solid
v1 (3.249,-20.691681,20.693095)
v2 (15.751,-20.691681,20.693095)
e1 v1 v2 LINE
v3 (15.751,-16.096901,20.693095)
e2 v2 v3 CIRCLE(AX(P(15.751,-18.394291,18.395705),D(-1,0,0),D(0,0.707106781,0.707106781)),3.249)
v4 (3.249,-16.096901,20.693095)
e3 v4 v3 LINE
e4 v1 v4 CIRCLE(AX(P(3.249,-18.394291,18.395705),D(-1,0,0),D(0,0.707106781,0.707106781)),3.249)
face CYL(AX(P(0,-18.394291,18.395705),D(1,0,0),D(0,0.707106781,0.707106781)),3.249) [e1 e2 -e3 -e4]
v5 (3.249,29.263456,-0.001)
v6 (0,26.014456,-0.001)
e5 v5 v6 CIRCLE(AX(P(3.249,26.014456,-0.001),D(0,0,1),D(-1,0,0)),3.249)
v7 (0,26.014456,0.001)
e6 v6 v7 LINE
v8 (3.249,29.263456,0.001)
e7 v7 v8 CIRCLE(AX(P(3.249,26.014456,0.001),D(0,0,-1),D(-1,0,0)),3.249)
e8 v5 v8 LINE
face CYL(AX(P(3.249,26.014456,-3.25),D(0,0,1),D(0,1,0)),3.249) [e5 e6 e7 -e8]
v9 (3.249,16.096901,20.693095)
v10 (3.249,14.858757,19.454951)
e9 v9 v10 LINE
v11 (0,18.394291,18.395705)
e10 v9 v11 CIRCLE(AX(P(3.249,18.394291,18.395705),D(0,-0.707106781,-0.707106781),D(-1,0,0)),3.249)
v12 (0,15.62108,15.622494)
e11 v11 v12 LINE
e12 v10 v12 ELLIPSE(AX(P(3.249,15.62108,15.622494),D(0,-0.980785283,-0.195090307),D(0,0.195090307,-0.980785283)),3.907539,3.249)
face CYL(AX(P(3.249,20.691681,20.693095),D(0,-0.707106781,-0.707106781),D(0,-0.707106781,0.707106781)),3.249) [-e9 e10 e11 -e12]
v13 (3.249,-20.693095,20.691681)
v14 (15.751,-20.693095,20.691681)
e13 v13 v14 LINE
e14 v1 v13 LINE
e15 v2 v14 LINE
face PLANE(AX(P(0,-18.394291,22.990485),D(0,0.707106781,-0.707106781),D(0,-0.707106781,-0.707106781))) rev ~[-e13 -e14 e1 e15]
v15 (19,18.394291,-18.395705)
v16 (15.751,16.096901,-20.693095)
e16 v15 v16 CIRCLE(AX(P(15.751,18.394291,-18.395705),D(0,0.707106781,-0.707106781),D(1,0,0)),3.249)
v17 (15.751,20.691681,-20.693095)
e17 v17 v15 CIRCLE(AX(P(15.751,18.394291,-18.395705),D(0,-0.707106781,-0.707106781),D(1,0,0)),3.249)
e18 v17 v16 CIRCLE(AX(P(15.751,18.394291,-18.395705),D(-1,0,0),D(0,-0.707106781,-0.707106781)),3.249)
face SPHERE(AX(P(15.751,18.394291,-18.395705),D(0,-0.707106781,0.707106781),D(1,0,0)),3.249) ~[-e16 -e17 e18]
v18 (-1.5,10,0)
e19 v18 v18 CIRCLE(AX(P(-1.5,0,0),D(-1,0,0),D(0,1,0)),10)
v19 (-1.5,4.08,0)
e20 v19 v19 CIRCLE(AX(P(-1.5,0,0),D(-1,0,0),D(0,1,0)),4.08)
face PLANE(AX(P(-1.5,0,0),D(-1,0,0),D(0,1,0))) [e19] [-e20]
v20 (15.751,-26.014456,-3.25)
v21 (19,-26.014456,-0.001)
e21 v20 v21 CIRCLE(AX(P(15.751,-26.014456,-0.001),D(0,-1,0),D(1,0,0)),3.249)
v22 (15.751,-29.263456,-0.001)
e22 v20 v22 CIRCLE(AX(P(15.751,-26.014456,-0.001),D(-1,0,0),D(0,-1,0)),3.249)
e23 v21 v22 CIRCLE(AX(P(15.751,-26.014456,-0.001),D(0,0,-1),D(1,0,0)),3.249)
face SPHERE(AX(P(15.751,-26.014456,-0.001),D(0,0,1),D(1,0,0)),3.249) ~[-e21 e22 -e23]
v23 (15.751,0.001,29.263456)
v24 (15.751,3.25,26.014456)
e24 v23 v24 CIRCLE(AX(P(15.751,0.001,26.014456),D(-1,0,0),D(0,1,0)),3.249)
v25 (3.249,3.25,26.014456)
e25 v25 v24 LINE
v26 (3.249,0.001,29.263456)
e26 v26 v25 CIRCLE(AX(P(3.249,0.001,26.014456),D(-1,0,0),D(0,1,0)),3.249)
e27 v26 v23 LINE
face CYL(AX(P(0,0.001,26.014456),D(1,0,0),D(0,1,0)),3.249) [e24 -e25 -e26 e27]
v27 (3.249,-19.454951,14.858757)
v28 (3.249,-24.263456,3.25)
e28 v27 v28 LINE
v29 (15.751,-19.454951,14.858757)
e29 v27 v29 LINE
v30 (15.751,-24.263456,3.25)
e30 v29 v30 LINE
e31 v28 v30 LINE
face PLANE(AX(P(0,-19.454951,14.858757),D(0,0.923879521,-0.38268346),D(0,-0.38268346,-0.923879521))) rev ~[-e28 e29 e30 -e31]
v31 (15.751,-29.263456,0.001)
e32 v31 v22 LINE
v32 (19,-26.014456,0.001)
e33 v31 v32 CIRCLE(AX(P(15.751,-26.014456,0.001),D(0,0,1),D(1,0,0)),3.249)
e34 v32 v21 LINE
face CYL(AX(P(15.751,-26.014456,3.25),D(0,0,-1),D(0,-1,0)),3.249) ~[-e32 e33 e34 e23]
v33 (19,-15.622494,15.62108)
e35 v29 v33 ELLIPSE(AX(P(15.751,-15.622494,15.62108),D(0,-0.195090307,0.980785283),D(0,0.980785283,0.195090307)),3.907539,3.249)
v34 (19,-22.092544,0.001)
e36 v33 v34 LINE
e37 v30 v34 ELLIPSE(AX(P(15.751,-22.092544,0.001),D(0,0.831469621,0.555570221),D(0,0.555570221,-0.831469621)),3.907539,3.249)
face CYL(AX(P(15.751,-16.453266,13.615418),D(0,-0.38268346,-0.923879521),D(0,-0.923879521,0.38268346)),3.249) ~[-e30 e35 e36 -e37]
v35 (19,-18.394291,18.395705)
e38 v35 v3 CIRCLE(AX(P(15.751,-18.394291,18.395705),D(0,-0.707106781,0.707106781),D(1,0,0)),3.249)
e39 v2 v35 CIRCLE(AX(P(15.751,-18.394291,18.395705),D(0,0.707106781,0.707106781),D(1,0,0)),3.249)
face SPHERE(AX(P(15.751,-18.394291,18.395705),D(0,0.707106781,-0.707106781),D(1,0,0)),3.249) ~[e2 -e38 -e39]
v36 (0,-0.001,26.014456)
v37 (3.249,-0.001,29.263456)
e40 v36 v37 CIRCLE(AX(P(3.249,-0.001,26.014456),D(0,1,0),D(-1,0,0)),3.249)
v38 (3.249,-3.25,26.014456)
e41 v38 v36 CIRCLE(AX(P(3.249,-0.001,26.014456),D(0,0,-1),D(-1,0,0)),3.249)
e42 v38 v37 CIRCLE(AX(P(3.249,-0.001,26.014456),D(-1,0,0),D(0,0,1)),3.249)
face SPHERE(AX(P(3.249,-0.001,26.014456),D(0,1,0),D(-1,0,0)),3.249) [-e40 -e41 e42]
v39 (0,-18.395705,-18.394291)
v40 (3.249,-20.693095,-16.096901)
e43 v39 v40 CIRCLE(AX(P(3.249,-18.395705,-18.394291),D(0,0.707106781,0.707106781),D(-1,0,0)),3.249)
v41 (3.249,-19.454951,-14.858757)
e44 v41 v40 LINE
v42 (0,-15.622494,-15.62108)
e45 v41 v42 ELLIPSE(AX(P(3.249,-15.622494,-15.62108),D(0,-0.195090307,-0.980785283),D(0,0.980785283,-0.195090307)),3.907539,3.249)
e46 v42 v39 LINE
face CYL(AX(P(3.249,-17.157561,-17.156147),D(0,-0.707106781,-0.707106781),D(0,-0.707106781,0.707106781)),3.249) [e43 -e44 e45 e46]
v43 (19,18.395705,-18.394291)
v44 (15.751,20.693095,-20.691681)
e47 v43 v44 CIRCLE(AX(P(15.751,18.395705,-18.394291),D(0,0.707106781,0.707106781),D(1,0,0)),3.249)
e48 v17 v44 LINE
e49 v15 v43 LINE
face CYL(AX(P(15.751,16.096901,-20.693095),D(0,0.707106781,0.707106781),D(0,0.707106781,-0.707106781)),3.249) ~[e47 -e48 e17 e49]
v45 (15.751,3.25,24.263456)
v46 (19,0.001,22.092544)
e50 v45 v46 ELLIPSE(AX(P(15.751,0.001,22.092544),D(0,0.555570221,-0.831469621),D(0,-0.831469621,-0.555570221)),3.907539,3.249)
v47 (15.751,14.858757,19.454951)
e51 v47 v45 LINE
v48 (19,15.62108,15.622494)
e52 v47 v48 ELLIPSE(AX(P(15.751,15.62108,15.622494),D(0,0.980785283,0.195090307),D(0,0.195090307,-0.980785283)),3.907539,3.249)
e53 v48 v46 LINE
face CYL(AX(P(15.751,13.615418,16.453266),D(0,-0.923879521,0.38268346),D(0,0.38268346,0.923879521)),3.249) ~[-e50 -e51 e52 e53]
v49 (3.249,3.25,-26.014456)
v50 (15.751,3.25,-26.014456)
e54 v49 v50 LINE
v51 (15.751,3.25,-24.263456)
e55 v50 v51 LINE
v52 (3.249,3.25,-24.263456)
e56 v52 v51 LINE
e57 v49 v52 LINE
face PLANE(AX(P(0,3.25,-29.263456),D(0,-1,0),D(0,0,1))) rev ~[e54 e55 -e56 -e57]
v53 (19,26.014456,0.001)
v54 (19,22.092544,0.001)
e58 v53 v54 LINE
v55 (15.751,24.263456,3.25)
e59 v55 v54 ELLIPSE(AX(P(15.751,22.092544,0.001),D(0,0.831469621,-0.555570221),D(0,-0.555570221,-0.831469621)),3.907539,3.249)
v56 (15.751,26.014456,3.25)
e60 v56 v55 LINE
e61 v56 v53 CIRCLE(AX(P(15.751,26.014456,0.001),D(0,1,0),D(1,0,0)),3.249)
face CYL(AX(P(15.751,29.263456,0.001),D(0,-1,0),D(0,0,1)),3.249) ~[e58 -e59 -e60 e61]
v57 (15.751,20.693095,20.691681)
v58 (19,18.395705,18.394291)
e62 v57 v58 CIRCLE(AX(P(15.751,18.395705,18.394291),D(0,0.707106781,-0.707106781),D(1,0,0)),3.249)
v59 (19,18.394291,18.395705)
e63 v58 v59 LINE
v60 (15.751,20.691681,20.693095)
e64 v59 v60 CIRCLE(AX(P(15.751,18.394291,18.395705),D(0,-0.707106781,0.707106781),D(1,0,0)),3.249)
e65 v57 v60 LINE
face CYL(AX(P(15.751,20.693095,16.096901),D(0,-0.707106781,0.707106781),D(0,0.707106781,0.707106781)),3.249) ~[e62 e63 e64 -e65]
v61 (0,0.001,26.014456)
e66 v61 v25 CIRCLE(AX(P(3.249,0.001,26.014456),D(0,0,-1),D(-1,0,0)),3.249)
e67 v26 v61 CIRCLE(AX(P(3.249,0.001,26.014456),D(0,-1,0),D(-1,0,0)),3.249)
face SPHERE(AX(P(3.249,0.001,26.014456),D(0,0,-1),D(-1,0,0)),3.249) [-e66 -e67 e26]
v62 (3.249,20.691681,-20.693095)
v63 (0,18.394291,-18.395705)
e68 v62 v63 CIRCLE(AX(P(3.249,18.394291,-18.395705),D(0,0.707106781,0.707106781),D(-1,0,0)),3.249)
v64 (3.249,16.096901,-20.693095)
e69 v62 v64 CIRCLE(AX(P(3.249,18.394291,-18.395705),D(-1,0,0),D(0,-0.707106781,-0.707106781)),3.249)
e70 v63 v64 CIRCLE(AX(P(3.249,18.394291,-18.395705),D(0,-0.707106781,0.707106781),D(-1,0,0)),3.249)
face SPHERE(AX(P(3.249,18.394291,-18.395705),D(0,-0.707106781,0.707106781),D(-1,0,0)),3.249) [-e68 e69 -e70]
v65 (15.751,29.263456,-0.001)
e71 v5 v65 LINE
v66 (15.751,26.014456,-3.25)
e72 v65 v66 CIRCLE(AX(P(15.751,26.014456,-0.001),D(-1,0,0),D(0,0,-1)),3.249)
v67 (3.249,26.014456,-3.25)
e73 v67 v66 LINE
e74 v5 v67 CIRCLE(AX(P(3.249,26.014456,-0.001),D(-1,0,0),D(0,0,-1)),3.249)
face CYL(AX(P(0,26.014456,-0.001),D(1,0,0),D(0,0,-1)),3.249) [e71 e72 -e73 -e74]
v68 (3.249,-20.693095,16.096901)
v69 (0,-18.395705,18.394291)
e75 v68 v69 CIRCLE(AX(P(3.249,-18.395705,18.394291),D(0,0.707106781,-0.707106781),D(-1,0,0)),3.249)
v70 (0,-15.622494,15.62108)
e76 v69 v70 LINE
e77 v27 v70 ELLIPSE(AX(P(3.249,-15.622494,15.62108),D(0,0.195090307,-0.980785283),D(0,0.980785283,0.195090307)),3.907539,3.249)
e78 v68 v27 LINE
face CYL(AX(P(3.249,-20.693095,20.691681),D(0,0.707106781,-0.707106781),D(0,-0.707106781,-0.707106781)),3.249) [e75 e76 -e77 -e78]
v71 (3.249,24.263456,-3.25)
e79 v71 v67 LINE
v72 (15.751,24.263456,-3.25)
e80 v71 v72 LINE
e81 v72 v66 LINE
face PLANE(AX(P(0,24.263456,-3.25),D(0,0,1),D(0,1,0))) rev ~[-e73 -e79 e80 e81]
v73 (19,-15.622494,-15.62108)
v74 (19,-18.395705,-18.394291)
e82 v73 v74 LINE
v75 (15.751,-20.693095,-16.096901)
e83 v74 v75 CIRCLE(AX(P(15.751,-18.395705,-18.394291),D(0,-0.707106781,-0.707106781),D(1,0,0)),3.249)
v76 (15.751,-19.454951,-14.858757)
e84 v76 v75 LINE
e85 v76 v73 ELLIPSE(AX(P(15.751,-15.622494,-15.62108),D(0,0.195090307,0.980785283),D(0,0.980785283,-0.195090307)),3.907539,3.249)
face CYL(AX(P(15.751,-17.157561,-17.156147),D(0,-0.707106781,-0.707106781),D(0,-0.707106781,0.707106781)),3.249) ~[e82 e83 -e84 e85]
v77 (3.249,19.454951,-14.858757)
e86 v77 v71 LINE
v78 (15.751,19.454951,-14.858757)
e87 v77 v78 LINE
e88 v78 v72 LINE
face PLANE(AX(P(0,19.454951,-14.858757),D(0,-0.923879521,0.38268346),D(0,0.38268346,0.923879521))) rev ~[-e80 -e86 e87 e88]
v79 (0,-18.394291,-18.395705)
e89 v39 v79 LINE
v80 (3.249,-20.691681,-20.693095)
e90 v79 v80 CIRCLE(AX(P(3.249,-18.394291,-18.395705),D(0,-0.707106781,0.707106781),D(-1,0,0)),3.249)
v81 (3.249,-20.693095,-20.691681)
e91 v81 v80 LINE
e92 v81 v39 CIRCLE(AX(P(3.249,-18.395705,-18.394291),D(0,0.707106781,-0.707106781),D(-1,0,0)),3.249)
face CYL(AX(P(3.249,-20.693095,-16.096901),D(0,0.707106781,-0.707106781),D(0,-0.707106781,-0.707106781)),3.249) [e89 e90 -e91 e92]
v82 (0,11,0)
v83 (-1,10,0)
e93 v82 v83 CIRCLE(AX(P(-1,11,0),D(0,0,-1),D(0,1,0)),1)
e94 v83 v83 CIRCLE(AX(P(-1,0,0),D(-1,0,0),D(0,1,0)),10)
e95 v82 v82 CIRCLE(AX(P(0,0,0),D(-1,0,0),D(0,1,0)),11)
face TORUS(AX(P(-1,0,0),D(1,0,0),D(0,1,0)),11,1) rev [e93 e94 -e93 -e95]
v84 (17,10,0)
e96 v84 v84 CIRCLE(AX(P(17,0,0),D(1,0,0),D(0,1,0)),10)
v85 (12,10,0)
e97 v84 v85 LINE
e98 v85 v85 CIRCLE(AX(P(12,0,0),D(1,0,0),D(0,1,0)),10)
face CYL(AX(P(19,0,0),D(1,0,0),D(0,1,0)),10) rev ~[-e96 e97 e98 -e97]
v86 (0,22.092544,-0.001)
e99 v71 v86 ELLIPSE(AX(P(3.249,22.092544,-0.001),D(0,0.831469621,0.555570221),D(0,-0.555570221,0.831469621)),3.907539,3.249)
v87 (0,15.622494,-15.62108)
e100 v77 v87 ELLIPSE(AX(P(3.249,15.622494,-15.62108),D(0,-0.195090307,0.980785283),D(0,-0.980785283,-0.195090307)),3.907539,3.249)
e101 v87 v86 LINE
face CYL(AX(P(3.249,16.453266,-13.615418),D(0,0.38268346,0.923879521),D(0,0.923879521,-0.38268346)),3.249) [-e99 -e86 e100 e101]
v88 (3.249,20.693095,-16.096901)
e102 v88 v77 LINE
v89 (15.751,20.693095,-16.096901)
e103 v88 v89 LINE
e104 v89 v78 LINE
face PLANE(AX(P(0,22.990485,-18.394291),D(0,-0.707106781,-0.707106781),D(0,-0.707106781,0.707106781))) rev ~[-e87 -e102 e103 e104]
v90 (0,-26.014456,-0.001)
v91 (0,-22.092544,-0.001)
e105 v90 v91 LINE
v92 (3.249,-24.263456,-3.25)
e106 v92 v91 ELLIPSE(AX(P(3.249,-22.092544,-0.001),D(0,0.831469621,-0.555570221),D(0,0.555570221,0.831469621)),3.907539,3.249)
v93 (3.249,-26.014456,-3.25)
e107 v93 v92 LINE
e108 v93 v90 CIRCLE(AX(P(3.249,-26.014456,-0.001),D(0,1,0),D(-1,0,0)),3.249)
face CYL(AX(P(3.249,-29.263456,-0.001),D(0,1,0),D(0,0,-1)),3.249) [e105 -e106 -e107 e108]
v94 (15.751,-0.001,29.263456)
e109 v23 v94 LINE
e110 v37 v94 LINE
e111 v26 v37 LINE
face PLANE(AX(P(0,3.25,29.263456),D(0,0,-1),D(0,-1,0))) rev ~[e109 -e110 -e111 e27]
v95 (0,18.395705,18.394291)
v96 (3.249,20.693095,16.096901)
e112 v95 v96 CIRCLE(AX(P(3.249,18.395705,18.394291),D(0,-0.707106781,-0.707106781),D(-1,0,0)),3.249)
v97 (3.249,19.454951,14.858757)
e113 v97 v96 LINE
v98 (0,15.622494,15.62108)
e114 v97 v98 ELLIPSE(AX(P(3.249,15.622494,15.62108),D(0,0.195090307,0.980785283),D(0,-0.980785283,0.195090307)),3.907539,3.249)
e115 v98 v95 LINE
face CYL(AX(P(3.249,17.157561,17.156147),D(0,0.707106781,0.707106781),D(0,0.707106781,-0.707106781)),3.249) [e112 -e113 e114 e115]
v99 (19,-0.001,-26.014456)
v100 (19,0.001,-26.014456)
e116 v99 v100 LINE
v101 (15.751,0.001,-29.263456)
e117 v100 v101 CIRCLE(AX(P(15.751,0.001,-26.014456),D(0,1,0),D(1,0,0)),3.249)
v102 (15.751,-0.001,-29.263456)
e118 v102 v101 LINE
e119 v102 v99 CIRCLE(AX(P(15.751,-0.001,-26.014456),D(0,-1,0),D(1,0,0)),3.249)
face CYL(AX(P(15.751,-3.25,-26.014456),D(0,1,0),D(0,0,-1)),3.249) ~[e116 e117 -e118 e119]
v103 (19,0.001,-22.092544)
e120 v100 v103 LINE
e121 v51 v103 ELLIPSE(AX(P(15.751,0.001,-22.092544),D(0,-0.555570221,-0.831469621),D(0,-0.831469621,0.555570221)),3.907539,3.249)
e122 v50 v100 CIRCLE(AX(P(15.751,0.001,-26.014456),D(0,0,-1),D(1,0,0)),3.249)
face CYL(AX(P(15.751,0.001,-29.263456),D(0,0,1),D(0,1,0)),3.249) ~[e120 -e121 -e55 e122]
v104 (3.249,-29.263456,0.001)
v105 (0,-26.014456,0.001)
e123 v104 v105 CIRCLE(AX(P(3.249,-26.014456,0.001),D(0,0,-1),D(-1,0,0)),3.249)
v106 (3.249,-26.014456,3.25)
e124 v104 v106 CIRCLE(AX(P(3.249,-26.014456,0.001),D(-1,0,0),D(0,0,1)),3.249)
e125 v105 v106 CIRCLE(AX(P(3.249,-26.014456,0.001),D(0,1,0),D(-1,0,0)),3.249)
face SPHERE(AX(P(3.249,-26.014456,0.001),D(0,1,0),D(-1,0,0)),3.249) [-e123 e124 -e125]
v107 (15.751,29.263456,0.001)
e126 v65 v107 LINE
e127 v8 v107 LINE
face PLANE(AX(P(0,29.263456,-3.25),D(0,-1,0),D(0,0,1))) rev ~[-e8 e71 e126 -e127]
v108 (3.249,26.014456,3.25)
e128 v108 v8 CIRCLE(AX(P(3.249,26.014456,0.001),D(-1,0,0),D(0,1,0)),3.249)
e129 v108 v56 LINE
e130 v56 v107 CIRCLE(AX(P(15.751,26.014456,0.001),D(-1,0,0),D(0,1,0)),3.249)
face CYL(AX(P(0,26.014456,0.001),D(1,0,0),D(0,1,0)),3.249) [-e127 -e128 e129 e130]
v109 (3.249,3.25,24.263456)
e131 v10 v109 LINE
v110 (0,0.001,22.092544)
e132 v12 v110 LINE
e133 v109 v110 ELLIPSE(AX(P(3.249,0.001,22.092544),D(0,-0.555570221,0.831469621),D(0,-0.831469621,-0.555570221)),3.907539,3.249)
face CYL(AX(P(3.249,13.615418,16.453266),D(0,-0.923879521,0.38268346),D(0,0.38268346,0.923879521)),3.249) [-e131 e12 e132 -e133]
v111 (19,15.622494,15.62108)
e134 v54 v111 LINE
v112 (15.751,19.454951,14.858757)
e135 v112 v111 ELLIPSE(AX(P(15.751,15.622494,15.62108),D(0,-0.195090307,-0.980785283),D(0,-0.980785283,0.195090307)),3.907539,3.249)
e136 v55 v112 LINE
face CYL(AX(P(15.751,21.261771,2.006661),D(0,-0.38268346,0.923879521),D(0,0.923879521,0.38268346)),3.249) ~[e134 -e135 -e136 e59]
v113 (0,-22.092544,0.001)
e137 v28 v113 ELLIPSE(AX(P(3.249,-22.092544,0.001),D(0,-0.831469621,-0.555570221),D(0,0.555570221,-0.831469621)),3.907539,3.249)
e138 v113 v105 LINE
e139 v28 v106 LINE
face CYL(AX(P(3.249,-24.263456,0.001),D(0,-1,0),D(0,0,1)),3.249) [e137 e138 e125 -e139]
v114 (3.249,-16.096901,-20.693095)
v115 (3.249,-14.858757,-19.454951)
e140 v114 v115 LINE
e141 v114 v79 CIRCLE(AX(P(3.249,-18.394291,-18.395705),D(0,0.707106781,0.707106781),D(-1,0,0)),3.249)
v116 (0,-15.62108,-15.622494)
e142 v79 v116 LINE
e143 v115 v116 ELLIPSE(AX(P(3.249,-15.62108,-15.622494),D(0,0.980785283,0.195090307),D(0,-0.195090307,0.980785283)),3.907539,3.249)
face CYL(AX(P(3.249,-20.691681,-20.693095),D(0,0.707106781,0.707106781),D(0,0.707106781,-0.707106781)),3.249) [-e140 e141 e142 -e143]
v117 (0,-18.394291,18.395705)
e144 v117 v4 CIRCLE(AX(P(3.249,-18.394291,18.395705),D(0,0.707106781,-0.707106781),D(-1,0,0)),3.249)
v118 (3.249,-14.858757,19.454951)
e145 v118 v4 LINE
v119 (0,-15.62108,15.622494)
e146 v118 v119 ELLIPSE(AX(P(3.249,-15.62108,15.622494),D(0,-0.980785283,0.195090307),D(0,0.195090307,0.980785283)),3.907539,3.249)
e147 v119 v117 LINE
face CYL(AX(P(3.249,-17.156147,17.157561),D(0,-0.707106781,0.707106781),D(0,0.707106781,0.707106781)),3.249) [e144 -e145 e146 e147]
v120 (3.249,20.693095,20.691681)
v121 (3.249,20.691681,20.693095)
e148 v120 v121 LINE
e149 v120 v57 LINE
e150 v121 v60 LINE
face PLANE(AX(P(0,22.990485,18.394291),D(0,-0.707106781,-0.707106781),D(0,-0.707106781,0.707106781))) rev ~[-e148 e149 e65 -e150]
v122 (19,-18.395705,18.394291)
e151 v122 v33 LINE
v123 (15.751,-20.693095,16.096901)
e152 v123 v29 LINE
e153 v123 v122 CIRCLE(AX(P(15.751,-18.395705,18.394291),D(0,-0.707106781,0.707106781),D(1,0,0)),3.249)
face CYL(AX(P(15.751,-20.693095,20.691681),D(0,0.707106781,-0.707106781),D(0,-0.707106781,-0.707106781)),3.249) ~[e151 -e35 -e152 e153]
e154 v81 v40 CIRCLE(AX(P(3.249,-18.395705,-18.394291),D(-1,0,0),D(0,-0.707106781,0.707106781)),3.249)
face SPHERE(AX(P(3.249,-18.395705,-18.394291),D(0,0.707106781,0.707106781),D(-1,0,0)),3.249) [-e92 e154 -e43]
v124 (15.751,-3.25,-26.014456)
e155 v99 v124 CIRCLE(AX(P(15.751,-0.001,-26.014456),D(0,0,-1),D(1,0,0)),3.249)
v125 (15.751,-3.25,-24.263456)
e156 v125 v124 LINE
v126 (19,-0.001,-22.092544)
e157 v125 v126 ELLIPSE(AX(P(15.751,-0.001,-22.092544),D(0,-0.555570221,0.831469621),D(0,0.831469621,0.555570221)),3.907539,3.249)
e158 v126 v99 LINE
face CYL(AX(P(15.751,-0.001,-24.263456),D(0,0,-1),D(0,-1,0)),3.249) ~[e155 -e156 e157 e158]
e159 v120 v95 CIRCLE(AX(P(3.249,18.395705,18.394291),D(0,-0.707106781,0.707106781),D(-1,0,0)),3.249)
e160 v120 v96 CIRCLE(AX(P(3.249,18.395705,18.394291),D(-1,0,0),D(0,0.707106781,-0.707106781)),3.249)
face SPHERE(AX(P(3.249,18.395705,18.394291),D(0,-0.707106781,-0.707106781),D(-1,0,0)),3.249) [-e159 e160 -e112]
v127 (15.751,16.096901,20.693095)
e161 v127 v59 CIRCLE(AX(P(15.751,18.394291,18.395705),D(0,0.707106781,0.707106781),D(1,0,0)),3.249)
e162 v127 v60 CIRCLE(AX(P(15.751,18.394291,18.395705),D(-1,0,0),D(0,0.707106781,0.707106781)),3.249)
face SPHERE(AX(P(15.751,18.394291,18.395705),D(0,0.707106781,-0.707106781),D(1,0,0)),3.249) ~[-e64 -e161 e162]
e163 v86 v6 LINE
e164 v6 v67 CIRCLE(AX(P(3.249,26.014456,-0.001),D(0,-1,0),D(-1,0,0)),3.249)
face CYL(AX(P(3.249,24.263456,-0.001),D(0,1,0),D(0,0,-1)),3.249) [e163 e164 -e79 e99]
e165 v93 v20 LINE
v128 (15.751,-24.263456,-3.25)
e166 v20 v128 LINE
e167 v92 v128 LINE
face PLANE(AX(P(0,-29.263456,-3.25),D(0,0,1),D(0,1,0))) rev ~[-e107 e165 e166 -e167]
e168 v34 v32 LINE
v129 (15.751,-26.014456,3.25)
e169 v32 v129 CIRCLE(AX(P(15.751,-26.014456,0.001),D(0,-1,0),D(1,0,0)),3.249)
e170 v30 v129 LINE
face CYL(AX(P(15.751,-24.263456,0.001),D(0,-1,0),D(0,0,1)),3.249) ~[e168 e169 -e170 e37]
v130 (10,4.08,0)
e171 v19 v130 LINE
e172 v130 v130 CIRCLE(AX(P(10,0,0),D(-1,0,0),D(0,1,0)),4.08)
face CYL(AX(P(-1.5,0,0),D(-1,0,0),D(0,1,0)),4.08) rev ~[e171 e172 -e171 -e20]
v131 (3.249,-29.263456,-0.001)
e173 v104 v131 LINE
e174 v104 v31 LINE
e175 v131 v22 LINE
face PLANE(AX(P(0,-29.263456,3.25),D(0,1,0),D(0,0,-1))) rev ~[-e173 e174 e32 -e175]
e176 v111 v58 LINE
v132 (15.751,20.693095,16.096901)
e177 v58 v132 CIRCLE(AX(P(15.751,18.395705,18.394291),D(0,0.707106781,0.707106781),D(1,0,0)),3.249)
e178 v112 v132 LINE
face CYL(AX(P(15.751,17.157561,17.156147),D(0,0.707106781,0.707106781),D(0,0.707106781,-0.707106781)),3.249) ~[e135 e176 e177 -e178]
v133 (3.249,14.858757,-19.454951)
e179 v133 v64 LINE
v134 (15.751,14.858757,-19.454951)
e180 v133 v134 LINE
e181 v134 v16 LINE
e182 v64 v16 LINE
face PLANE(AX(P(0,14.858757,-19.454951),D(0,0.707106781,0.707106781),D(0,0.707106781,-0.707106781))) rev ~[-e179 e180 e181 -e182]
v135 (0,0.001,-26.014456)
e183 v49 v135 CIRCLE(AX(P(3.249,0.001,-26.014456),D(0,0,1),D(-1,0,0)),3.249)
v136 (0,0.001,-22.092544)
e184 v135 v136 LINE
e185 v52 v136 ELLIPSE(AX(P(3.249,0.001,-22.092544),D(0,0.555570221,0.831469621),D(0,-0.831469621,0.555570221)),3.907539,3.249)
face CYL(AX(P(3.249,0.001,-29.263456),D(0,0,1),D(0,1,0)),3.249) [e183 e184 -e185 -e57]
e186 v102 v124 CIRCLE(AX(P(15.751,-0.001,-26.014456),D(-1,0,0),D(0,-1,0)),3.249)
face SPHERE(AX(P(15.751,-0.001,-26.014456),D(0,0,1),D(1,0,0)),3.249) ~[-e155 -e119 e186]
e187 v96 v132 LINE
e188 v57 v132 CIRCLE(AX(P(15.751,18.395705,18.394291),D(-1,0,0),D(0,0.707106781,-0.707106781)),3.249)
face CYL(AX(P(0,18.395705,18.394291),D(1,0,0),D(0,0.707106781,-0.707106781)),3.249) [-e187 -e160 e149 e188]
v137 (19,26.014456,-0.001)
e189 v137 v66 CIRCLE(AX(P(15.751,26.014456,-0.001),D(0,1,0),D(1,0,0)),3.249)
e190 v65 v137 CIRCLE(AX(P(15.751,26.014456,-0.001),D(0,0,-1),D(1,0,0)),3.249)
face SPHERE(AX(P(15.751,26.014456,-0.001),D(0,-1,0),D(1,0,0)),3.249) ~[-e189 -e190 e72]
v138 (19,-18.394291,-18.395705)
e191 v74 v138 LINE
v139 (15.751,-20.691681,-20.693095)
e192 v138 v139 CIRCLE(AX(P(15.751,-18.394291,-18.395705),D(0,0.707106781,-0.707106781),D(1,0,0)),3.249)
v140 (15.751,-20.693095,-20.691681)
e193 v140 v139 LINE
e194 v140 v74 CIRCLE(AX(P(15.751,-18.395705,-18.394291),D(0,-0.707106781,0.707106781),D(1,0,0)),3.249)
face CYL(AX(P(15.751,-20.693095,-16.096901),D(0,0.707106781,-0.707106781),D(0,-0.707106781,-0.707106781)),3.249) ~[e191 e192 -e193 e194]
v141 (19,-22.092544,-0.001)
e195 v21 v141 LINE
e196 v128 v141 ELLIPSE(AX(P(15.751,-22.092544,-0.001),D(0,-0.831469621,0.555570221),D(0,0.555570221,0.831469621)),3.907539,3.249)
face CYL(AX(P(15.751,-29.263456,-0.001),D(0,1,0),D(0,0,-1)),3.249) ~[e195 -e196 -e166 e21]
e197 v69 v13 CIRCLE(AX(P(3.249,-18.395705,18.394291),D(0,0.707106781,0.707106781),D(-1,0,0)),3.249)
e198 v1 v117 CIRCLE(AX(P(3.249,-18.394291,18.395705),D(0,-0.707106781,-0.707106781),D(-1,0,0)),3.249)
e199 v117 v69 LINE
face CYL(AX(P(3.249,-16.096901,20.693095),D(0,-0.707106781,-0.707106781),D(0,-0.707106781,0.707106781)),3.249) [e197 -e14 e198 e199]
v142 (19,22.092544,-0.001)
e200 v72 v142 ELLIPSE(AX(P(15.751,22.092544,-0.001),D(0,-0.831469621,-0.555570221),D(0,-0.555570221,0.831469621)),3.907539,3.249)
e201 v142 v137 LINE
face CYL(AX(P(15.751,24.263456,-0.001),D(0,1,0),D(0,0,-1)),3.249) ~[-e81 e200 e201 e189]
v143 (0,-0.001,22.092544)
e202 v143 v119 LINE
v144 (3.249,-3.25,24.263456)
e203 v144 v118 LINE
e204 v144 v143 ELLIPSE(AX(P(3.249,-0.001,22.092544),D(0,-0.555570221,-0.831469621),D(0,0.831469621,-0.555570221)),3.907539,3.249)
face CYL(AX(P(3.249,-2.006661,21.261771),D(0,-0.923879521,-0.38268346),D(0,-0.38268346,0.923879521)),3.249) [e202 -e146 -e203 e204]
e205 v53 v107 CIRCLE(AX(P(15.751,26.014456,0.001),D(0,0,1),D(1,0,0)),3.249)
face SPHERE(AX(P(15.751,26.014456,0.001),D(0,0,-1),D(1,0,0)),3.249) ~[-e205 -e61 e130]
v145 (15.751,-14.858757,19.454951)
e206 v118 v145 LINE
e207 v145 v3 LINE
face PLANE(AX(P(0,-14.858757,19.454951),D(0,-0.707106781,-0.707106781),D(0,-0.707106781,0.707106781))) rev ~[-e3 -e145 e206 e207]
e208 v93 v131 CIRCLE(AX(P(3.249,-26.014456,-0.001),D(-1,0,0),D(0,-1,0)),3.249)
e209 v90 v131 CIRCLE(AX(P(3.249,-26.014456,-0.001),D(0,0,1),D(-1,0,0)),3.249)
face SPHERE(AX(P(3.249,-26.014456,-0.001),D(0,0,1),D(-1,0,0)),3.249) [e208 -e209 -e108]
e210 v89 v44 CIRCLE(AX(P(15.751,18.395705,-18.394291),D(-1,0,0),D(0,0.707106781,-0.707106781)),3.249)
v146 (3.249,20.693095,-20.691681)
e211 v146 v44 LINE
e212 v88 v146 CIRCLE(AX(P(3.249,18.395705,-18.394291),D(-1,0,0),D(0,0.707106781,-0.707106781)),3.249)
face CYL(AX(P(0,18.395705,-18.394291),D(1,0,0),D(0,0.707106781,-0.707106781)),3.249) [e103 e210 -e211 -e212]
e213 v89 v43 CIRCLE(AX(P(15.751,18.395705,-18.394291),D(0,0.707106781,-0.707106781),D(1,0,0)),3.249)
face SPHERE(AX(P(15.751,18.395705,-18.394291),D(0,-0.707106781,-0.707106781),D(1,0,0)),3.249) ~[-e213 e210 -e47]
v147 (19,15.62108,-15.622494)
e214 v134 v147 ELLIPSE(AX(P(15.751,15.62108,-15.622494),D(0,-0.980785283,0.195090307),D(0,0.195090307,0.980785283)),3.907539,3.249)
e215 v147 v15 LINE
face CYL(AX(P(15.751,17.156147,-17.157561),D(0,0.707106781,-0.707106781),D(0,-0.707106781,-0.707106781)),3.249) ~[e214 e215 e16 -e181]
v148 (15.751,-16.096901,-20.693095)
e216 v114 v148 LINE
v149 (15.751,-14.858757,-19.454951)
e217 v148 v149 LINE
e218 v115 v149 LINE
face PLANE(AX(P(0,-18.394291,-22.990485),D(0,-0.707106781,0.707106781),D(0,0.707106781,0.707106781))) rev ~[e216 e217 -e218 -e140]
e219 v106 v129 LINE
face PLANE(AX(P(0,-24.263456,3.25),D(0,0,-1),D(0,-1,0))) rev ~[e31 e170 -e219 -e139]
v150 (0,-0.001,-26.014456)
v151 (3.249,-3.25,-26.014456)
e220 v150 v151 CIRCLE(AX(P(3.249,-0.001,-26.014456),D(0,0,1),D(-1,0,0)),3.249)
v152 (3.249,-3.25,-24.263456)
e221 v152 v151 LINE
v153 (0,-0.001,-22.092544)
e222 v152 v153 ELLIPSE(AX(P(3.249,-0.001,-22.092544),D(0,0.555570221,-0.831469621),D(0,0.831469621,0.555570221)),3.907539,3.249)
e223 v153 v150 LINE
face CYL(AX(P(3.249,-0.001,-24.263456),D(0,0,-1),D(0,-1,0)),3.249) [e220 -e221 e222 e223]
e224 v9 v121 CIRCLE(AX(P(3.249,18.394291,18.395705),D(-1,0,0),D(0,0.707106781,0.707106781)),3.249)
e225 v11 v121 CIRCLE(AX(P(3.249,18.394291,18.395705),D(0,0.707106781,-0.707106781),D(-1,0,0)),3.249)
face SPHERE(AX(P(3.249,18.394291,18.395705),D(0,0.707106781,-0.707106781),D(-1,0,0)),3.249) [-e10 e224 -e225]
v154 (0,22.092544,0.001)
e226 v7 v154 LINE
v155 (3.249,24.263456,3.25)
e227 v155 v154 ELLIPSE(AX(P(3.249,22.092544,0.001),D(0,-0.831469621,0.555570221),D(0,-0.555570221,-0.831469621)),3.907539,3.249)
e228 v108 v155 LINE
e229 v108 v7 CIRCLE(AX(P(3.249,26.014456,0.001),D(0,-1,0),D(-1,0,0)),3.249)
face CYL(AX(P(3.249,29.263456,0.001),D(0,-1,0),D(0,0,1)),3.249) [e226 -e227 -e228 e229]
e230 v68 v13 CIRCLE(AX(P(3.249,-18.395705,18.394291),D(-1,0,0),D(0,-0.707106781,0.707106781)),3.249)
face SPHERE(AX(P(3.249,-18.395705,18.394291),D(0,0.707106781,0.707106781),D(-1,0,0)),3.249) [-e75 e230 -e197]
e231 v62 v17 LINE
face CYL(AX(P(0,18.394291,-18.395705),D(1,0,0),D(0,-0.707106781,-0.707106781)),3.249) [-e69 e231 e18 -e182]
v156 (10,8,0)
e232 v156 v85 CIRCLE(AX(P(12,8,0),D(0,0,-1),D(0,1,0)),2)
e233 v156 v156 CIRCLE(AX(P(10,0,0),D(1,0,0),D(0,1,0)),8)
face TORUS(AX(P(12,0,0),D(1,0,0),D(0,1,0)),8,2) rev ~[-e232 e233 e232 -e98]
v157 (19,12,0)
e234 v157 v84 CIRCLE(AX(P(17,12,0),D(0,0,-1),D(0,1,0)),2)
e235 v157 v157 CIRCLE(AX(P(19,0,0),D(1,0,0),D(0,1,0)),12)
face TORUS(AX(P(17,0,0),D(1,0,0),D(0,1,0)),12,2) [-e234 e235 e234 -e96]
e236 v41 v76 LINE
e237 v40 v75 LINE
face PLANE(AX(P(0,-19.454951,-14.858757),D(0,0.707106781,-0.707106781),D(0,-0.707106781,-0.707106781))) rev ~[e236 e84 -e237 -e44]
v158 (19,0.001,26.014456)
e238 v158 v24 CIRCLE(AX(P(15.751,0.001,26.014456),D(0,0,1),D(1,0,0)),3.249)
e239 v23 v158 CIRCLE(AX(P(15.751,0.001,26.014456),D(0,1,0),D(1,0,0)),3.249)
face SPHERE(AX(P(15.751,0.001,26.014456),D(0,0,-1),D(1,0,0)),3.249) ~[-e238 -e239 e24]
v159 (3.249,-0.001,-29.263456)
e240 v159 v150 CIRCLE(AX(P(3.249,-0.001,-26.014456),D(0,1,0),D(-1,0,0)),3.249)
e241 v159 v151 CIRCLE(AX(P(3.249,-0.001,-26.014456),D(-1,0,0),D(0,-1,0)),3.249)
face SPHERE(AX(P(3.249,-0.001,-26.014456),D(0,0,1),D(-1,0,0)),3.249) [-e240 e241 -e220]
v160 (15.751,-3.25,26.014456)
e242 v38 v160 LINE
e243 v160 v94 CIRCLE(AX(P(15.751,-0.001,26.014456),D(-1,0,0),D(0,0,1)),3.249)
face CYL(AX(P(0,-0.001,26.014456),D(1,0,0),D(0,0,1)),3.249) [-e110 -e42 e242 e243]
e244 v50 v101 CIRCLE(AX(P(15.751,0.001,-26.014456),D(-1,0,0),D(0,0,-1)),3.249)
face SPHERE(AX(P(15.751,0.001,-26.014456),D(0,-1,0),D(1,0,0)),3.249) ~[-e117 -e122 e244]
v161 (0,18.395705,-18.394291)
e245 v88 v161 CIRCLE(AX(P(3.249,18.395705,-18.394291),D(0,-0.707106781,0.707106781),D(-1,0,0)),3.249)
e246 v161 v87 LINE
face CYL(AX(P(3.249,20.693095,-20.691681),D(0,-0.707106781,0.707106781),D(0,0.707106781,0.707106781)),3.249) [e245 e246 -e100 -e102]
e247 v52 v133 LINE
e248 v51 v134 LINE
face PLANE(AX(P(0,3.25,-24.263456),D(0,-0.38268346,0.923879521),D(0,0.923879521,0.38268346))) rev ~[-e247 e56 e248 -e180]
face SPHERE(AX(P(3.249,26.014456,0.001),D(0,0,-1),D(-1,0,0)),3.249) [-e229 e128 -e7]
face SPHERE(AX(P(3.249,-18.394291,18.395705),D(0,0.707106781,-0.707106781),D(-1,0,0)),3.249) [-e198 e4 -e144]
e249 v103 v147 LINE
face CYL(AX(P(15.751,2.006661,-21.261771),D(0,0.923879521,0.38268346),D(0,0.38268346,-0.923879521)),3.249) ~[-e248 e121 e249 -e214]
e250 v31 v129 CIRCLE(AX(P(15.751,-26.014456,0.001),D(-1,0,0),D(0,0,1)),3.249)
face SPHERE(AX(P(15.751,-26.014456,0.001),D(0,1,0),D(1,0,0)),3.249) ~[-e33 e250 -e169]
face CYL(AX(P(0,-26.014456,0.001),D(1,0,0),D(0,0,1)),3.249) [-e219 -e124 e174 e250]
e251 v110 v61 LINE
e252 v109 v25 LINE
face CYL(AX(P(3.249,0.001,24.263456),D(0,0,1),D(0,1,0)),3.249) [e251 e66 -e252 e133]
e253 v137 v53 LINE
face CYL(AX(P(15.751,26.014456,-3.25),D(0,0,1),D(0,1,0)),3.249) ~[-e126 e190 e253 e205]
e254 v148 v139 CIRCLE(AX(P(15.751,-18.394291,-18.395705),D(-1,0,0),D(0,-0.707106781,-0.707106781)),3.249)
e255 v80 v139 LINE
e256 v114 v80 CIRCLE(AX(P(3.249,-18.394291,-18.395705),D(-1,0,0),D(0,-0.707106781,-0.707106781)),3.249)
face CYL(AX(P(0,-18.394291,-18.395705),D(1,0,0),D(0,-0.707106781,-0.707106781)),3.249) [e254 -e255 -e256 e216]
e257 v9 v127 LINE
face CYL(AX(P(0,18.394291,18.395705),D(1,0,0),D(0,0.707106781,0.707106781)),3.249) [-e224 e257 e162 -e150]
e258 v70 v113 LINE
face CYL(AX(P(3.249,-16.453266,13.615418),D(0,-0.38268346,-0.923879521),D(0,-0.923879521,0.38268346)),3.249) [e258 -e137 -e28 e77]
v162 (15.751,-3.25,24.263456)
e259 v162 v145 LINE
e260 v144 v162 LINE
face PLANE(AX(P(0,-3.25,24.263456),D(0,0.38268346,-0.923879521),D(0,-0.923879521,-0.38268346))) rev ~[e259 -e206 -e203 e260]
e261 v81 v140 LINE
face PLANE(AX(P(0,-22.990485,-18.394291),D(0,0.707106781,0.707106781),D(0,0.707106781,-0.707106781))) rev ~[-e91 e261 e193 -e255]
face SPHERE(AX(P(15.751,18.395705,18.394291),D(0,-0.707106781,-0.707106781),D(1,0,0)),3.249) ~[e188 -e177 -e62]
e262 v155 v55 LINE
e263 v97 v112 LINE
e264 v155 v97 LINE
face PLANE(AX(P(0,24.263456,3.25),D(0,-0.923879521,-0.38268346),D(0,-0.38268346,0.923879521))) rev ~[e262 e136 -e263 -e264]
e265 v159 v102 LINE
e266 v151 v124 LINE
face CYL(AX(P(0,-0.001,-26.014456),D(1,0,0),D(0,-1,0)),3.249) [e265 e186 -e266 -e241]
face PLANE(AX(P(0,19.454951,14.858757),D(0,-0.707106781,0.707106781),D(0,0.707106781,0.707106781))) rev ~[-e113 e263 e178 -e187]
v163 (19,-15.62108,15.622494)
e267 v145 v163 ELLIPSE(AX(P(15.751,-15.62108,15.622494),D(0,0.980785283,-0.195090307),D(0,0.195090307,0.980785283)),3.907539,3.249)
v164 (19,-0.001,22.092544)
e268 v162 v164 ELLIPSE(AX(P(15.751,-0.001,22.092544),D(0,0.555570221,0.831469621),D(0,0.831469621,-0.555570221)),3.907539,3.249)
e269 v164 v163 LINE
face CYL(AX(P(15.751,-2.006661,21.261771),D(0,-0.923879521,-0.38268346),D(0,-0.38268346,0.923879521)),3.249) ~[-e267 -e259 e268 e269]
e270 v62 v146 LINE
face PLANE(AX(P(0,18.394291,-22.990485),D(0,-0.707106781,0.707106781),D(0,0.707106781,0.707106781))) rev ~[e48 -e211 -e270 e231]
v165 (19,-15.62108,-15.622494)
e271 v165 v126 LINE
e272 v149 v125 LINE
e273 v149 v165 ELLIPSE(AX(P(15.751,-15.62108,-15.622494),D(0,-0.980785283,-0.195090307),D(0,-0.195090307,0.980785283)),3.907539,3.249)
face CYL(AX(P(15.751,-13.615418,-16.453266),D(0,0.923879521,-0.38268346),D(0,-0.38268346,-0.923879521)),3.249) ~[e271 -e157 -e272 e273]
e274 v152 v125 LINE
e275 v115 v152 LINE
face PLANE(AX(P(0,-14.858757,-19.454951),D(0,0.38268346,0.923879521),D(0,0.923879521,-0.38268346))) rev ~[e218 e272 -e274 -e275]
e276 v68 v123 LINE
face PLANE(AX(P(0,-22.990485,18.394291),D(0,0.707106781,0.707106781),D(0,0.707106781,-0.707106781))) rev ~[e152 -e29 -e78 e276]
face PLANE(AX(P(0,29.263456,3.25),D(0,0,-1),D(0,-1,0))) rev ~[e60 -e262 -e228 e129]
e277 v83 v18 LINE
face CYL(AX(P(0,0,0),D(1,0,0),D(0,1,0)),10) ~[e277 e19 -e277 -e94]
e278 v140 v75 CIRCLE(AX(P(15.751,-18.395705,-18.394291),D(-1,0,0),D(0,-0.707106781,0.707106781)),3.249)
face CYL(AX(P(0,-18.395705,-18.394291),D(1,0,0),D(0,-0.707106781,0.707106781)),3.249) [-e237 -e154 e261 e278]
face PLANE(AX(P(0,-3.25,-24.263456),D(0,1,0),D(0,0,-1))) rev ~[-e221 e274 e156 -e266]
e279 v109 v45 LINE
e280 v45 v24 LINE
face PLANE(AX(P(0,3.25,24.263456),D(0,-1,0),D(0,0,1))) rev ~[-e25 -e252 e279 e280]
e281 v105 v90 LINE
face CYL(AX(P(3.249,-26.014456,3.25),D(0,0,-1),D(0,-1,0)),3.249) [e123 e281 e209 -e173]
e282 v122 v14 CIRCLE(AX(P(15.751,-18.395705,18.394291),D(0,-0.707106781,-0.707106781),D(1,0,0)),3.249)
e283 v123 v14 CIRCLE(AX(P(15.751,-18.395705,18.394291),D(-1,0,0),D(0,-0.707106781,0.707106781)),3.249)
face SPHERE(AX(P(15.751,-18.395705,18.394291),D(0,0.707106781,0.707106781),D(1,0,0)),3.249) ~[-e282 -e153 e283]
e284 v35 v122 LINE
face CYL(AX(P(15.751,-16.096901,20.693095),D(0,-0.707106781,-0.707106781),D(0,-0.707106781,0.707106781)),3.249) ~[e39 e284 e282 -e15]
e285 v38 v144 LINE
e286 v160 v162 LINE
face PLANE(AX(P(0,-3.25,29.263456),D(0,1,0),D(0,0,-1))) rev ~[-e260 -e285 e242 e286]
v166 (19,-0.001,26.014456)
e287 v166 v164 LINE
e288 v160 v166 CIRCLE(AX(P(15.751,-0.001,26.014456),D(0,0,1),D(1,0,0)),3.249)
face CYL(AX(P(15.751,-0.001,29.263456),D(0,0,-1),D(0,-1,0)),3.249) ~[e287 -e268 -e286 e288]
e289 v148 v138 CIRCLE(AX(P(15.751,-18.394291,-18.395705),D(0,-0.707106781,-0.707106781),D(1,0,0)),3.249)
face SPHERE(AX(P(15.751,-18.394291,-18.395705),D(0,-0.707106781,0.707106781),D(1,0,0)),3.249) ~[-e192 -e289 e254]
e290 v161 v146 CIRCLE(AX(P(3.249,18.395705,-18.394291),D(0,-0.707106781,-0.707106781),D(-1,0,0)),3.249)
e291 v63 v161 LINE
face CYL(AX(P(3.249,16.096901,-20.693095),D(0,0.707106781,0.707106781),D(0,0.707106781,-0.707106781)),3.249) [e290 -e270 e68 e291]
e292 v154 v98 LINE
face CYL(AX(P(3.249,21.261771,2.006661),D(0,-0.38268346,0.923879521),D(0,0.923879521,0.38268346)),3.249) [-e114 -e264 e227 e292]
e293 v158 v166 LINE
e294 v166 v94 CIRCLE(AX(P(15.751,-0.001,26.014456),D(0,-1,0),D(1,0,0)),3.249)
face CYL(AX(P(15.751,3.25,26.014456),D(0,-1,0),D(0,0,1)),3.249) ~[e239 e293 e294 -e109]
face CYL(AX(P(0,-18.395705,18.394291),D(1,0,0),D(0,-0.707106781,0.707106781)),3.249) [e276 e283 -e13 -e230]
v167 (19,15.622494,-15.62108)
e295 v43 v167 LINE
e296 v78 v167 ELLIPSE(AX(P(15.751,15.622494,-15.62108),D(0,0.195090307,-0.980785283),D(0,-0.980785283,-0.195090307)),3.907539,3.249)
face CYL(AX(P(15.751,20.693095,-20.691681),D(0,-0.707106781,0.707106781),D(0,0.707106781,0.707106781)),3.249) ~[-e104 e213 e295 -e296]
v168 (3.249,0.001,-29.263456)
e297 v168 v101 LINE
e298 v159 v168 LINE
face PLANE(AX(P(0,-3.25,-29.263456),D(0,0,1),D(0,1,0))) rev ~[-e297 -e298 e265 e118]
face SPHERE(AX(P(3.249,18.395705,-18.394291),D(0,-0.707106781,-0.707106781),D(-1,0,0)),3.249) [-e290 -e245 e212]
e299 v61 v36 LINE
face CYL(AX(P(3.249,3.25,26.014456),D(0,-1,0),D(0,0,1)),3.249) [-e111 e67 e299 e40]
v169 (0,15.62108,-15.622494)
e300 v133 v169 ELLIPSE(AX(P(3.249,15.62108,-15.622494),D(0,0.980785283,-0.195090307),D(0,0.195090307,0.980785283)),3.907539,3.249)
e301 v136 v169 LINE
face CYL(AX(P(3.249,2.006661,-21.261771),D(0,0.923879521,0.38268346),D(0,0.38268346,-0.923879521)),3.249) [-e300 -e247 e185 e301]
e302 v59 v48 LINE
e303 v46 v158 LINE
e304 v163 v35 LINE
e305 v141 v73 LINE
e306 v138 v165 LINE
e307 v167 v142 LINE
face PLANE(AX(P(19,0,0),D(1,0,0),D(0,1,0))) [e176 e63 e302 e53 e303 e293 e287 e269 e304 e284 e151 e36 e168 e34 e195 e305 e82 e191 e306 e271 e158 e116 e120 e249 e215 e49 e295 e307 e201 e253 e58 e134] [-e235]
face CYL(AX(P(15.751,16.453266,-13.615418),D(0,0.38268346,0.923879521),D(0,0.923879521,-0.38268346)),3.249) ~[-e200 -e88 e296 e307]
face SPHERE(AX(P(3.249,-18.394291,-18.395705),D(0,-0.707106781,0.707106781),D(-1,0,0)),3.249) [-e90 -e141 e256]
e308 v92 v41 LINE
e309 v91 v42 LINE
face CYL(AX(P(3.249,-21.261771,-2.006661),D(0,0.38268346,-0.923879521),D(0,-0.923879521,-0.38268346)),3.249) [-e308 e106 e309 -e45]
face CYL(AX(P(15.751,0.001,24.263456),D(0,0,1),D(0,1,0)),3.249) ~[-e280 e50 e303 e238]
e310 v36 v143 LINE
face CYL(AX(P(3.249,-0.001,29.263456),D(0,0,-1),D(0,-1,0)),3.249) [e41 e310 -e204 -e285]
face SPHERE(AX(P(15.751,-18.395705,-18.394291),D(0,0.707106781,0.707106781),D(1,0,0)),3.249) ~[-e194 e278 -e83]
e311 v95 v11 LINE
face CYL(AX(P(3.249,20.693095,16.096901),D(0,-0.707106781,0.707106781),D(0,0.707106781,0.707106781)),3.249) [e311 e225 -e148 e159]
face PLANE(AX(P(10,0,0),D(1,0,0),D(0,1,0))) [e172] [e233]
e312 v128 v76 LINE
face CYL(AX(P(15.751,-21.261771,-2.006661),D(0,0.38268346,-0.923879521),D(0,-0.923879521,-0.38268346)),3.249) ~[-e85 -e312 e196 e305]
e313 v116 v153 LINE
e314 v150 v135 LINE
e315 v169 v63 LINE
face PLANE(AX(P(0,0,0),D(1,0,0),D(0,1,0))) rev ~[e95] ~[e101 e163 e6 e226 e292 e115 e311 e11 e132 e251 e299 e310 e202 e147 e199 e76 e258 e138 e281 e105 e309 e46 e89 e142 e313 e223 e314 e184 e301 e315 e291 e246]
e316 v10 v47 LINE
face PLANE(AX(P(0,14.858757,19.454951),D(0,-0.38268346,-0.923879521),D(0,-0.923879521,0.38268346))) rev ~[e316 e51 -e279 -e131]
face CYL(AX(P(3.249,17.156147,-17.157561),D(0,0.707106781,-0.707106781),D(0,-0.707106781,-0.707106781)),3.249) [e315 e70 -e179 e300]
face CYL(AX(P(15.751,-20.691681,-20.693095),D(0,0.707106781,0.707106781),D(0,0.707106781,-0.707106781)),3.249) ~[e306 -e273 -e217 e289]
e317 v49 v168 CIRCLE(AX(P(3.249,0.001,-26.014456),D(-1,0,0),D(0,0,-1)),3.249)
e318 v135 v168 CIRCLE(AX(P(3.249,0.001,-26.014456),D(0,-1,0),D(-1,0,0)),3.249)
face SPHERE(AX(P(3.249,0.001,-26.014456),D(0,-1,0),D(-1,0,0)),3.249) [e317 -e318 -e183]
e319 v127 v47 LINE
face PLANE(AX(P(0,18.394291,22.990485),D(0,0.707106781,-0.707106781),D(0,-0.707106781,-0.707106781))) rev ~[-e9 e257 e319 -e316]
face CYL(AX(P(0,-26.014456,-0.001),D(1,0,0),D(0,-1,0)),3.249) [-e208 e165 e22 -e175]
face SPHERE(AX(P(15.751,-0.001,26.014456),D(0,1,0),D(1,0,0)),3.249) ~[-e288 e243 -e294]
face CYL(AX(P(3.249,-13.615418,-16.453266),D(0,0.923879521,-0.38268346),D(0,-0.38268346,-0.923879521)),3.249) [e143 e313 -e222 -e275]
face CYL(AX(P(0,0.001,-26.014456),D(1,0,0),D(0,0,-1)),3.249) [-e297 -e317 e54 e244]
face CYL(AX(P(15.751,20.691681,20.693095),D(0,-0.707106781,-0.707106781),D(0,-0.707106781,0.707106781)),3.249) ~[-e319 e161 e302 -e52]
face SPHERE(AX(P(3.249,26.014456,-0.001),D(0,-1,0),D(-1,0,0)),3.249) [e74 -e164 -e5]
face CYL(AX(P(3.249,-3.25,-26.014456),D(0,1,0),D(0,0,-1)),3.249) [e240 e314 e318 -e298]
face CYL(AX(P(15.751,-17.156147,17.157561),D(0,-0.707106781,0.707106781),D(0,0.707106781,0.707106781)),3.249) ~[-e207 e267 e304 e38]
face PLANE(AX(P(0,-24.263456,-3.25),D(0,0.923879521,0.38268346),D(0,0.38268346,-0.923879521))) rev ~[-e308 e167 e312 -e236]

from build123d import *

# Parameters (mm, degrees)
PAD003_DEPTH    = 19
FILLET007_R     = 3.249
SKETCH008_R     = 10
PAD004_DEPTH    = 1.5
SKETCH009_R     = 4.08
POCKET004_DEPTH = 12
SKETCH010_R     = 10
POCKET005_DEPTH = 9
FILLET008_R     = 1
FILLET009_R     = 2


with BuildPart() as part:
    # Sketch007 → Pad003 (new body)
    with BuildSketch(Plane.YZ):
        Polygon((-24.263456, 3.25), (-29.263456, 3.25), (-29.263456, -3.25), (-24.263456, -3.25), (-19.454951, -14.858757), (-22.990485, -18.394291), (-18.394291, -22.990485), (-14.858757, -19.454951), (-3.25, -24.263456), (-3.25, -29.263456), (3.25, -29.263456), (3.25, -24.263456), (14.858757, -19.454951), (18.394291, -22.990485), (22.990485, -18.394291), (19.454951, -14.858757), (24.263456, -3.25), (29.263456, -3.25), (29.263456, 3.25), (24.263456, 3.25), (19.454951, 14.858757), (22.990485, 18.394291), (18.394291, 22.990485), (14.858757, 19.454951), (3.25, 24.263456), (3.25, 29.263456), (-3.25, 29.263456), (-3.25, 24.263456), (-14.858757, 19.454951), (-18.394291, 22.990485), (-22.990485, 18.394291), (-19.454951, 14.858757), align=None)
    extrude(amount=PAD003_DEPTH)

    # Fillet007
    fillet007_edges = [part.edges().sort_by_distance(p)[0] for p in [
        (19, -16.626524, 21.222718),
        (19, -20.692388, 20.692388),
        (19, -21.222718, 16.626524),
        (19, -21.859204, 9.054379),
        (19, -26.763456, 3.25),
        (19, -29.263456, 0),
        (19, -26.763456, -3.25),
        (19, -21.859204, -9.054379),
        (19, -21.222718, -16.626524),
        (19, -20.692388, -20.692388),
        (19, -16.626524, -21.222718),
        (19, -9.054379, -21.859204),
        (19, -3.25, -26.763456),
        (19, 0, -29.263456),
        (19, 3.25, -26.763456),
        (19, 9.054379, -21.859204),
        (19, 16.626524, -21.222718),
        (19, 20.692388, -20.692388),
        (19, 21.222718, -16.626524),
        (19, 21.859204, -9.054379),
        (19, 26.763456, -3.25),
        (19, 29.263456, 0),
        (19, 26.763456, 3.25),
        (19, 21.859204, 9.054379),
        (19, 21.222718, 16.626524),
        (19, 20.692388, 20.692388),
        (19, 16.626524, 21.222718),
        (19, 9.054379, 21.859204),
        (19, 3.25, 26.763456),
        (19, 0, 29.263456),
        (19, -3.25, 26.763456),
        (19, -9.054379, 21.859204),
        (0, -16.626524, 21.222718),
        (0, -20.692388, 20.692388),
        (0, -21.222718, 16.626524),
        (0, -21.859204, 9.054379),
        (0, -26.763456, 3.25),
        (0, -29.263456, 0),
        (0, -26.763456, -3.25),
        (0, -21.859204, -9.054379),
        (0, -21.222718, -16.626524),
        (0, -20.692388, -20.692388),
        (0, -16.626524, -21.222718),
        (0, -9.054379, -21.859204),
        (0, -3.25, -26.763456),
        (0, 0, -29.263456),
        (0, 3.25, -26.763456),
        (0, 9.054379, -21.859204),
        (0, 16.626524, -21.222718),
        (0, 20.692388, -20.692388),
        (0, 21.222718, -16.626524),
        (0, 21.859204, -9.054379),
        (0, 26.763456, -3.25),
        (0, 29.263456, 0),
        (0, 26.763456, 3.25),
        (0, 21.859204, 9.054379),
        (0, 21.222718, 16.626524),
        (0, 20.692388, 20.692388),
        (0, 16.626524, 21.222718),
        (0, 9.054379, 21.859204),
        (0, 3.25, 26.763456),
        (0, 0, 29.263456),
        (0, -3.25, 26.763456),
        (0, -9.054379, 21.859204),
        (9.5, 29.263456, -3.25),
        (9.5, 29.263456, 3.25),
        (9.5, 18.394291, 22.990485),
        (9.5, 22.990485, 18.394291),
        (9.5, 18.394291, -22.990485),
        (9.5, 22.990485, -18.394291),
        (9.5, -3.25, -29.263456),
        (9.5, 3.25, -29.263456),
        (9.5, -22.990485, -18.394291),
        (9.5, -18.394291, -22.990485),
        (9.5, -29.263456, 3.25),
        (9.5, -29.263456, -3.25),
        (9.5, -18.394291, 22.990485),
        (9.5, -22.990485, 18.394291),
        (9.5, -3.25, 29.263456),
        (9.5, 3.25, 29.263456),
    ]]
    fillet(fillet007_edges, radius=FILLET007_R)

    # Sketch008 (on Face9 of Fillet007) → Pad004 (join)
    with BuildSketch(Plane(origin=(0, 0, 0), x_dir=(0, 1, 0), z_dir=(-1, 0, 0))):
        Circle(SKETCH008_R)
    extrude(amount=PAD004_DEPTH)

    # Sketch009 (on Face121 of Pad004) → Pocket004 (cut)
    with BuildSketch(Plane(origin=(-1.5, 0, 0), x_dir=(0, 1, 0), z_dir=(-1, 0, 0))):
        Circle(SKETCH009_R)
    extrude(amount=-POCKET004_DEPTH, mode=Mode.SUBTRACT)

    # Sketch010 (on Face11 of Pocket004) → Pocket005 (cut)
    with BuildSketch(Plane.YZ.offset(19)):
        Circle(SKETCH010_R)
    extrude(amount=-POCKET005_DEPTH, mode=Mode.SUBTRACT)

    # Fillet008
    fillet008_edges = [part.edges().sort_by_distance(p)[0] for p in [
        (0, -10, 0),
    ]]
    fillet(fillet008_edges, radius=FILLET008_R)

    # Fillet009
    fillet009_edges = [part.edges().sort_by_distance(p)[0] for p in [
        (10, -10, 0),
        (19, -10, 0),
    ]]
    fillet(fillet009_edges, radius=FILLET009_R)


solid = part.part
